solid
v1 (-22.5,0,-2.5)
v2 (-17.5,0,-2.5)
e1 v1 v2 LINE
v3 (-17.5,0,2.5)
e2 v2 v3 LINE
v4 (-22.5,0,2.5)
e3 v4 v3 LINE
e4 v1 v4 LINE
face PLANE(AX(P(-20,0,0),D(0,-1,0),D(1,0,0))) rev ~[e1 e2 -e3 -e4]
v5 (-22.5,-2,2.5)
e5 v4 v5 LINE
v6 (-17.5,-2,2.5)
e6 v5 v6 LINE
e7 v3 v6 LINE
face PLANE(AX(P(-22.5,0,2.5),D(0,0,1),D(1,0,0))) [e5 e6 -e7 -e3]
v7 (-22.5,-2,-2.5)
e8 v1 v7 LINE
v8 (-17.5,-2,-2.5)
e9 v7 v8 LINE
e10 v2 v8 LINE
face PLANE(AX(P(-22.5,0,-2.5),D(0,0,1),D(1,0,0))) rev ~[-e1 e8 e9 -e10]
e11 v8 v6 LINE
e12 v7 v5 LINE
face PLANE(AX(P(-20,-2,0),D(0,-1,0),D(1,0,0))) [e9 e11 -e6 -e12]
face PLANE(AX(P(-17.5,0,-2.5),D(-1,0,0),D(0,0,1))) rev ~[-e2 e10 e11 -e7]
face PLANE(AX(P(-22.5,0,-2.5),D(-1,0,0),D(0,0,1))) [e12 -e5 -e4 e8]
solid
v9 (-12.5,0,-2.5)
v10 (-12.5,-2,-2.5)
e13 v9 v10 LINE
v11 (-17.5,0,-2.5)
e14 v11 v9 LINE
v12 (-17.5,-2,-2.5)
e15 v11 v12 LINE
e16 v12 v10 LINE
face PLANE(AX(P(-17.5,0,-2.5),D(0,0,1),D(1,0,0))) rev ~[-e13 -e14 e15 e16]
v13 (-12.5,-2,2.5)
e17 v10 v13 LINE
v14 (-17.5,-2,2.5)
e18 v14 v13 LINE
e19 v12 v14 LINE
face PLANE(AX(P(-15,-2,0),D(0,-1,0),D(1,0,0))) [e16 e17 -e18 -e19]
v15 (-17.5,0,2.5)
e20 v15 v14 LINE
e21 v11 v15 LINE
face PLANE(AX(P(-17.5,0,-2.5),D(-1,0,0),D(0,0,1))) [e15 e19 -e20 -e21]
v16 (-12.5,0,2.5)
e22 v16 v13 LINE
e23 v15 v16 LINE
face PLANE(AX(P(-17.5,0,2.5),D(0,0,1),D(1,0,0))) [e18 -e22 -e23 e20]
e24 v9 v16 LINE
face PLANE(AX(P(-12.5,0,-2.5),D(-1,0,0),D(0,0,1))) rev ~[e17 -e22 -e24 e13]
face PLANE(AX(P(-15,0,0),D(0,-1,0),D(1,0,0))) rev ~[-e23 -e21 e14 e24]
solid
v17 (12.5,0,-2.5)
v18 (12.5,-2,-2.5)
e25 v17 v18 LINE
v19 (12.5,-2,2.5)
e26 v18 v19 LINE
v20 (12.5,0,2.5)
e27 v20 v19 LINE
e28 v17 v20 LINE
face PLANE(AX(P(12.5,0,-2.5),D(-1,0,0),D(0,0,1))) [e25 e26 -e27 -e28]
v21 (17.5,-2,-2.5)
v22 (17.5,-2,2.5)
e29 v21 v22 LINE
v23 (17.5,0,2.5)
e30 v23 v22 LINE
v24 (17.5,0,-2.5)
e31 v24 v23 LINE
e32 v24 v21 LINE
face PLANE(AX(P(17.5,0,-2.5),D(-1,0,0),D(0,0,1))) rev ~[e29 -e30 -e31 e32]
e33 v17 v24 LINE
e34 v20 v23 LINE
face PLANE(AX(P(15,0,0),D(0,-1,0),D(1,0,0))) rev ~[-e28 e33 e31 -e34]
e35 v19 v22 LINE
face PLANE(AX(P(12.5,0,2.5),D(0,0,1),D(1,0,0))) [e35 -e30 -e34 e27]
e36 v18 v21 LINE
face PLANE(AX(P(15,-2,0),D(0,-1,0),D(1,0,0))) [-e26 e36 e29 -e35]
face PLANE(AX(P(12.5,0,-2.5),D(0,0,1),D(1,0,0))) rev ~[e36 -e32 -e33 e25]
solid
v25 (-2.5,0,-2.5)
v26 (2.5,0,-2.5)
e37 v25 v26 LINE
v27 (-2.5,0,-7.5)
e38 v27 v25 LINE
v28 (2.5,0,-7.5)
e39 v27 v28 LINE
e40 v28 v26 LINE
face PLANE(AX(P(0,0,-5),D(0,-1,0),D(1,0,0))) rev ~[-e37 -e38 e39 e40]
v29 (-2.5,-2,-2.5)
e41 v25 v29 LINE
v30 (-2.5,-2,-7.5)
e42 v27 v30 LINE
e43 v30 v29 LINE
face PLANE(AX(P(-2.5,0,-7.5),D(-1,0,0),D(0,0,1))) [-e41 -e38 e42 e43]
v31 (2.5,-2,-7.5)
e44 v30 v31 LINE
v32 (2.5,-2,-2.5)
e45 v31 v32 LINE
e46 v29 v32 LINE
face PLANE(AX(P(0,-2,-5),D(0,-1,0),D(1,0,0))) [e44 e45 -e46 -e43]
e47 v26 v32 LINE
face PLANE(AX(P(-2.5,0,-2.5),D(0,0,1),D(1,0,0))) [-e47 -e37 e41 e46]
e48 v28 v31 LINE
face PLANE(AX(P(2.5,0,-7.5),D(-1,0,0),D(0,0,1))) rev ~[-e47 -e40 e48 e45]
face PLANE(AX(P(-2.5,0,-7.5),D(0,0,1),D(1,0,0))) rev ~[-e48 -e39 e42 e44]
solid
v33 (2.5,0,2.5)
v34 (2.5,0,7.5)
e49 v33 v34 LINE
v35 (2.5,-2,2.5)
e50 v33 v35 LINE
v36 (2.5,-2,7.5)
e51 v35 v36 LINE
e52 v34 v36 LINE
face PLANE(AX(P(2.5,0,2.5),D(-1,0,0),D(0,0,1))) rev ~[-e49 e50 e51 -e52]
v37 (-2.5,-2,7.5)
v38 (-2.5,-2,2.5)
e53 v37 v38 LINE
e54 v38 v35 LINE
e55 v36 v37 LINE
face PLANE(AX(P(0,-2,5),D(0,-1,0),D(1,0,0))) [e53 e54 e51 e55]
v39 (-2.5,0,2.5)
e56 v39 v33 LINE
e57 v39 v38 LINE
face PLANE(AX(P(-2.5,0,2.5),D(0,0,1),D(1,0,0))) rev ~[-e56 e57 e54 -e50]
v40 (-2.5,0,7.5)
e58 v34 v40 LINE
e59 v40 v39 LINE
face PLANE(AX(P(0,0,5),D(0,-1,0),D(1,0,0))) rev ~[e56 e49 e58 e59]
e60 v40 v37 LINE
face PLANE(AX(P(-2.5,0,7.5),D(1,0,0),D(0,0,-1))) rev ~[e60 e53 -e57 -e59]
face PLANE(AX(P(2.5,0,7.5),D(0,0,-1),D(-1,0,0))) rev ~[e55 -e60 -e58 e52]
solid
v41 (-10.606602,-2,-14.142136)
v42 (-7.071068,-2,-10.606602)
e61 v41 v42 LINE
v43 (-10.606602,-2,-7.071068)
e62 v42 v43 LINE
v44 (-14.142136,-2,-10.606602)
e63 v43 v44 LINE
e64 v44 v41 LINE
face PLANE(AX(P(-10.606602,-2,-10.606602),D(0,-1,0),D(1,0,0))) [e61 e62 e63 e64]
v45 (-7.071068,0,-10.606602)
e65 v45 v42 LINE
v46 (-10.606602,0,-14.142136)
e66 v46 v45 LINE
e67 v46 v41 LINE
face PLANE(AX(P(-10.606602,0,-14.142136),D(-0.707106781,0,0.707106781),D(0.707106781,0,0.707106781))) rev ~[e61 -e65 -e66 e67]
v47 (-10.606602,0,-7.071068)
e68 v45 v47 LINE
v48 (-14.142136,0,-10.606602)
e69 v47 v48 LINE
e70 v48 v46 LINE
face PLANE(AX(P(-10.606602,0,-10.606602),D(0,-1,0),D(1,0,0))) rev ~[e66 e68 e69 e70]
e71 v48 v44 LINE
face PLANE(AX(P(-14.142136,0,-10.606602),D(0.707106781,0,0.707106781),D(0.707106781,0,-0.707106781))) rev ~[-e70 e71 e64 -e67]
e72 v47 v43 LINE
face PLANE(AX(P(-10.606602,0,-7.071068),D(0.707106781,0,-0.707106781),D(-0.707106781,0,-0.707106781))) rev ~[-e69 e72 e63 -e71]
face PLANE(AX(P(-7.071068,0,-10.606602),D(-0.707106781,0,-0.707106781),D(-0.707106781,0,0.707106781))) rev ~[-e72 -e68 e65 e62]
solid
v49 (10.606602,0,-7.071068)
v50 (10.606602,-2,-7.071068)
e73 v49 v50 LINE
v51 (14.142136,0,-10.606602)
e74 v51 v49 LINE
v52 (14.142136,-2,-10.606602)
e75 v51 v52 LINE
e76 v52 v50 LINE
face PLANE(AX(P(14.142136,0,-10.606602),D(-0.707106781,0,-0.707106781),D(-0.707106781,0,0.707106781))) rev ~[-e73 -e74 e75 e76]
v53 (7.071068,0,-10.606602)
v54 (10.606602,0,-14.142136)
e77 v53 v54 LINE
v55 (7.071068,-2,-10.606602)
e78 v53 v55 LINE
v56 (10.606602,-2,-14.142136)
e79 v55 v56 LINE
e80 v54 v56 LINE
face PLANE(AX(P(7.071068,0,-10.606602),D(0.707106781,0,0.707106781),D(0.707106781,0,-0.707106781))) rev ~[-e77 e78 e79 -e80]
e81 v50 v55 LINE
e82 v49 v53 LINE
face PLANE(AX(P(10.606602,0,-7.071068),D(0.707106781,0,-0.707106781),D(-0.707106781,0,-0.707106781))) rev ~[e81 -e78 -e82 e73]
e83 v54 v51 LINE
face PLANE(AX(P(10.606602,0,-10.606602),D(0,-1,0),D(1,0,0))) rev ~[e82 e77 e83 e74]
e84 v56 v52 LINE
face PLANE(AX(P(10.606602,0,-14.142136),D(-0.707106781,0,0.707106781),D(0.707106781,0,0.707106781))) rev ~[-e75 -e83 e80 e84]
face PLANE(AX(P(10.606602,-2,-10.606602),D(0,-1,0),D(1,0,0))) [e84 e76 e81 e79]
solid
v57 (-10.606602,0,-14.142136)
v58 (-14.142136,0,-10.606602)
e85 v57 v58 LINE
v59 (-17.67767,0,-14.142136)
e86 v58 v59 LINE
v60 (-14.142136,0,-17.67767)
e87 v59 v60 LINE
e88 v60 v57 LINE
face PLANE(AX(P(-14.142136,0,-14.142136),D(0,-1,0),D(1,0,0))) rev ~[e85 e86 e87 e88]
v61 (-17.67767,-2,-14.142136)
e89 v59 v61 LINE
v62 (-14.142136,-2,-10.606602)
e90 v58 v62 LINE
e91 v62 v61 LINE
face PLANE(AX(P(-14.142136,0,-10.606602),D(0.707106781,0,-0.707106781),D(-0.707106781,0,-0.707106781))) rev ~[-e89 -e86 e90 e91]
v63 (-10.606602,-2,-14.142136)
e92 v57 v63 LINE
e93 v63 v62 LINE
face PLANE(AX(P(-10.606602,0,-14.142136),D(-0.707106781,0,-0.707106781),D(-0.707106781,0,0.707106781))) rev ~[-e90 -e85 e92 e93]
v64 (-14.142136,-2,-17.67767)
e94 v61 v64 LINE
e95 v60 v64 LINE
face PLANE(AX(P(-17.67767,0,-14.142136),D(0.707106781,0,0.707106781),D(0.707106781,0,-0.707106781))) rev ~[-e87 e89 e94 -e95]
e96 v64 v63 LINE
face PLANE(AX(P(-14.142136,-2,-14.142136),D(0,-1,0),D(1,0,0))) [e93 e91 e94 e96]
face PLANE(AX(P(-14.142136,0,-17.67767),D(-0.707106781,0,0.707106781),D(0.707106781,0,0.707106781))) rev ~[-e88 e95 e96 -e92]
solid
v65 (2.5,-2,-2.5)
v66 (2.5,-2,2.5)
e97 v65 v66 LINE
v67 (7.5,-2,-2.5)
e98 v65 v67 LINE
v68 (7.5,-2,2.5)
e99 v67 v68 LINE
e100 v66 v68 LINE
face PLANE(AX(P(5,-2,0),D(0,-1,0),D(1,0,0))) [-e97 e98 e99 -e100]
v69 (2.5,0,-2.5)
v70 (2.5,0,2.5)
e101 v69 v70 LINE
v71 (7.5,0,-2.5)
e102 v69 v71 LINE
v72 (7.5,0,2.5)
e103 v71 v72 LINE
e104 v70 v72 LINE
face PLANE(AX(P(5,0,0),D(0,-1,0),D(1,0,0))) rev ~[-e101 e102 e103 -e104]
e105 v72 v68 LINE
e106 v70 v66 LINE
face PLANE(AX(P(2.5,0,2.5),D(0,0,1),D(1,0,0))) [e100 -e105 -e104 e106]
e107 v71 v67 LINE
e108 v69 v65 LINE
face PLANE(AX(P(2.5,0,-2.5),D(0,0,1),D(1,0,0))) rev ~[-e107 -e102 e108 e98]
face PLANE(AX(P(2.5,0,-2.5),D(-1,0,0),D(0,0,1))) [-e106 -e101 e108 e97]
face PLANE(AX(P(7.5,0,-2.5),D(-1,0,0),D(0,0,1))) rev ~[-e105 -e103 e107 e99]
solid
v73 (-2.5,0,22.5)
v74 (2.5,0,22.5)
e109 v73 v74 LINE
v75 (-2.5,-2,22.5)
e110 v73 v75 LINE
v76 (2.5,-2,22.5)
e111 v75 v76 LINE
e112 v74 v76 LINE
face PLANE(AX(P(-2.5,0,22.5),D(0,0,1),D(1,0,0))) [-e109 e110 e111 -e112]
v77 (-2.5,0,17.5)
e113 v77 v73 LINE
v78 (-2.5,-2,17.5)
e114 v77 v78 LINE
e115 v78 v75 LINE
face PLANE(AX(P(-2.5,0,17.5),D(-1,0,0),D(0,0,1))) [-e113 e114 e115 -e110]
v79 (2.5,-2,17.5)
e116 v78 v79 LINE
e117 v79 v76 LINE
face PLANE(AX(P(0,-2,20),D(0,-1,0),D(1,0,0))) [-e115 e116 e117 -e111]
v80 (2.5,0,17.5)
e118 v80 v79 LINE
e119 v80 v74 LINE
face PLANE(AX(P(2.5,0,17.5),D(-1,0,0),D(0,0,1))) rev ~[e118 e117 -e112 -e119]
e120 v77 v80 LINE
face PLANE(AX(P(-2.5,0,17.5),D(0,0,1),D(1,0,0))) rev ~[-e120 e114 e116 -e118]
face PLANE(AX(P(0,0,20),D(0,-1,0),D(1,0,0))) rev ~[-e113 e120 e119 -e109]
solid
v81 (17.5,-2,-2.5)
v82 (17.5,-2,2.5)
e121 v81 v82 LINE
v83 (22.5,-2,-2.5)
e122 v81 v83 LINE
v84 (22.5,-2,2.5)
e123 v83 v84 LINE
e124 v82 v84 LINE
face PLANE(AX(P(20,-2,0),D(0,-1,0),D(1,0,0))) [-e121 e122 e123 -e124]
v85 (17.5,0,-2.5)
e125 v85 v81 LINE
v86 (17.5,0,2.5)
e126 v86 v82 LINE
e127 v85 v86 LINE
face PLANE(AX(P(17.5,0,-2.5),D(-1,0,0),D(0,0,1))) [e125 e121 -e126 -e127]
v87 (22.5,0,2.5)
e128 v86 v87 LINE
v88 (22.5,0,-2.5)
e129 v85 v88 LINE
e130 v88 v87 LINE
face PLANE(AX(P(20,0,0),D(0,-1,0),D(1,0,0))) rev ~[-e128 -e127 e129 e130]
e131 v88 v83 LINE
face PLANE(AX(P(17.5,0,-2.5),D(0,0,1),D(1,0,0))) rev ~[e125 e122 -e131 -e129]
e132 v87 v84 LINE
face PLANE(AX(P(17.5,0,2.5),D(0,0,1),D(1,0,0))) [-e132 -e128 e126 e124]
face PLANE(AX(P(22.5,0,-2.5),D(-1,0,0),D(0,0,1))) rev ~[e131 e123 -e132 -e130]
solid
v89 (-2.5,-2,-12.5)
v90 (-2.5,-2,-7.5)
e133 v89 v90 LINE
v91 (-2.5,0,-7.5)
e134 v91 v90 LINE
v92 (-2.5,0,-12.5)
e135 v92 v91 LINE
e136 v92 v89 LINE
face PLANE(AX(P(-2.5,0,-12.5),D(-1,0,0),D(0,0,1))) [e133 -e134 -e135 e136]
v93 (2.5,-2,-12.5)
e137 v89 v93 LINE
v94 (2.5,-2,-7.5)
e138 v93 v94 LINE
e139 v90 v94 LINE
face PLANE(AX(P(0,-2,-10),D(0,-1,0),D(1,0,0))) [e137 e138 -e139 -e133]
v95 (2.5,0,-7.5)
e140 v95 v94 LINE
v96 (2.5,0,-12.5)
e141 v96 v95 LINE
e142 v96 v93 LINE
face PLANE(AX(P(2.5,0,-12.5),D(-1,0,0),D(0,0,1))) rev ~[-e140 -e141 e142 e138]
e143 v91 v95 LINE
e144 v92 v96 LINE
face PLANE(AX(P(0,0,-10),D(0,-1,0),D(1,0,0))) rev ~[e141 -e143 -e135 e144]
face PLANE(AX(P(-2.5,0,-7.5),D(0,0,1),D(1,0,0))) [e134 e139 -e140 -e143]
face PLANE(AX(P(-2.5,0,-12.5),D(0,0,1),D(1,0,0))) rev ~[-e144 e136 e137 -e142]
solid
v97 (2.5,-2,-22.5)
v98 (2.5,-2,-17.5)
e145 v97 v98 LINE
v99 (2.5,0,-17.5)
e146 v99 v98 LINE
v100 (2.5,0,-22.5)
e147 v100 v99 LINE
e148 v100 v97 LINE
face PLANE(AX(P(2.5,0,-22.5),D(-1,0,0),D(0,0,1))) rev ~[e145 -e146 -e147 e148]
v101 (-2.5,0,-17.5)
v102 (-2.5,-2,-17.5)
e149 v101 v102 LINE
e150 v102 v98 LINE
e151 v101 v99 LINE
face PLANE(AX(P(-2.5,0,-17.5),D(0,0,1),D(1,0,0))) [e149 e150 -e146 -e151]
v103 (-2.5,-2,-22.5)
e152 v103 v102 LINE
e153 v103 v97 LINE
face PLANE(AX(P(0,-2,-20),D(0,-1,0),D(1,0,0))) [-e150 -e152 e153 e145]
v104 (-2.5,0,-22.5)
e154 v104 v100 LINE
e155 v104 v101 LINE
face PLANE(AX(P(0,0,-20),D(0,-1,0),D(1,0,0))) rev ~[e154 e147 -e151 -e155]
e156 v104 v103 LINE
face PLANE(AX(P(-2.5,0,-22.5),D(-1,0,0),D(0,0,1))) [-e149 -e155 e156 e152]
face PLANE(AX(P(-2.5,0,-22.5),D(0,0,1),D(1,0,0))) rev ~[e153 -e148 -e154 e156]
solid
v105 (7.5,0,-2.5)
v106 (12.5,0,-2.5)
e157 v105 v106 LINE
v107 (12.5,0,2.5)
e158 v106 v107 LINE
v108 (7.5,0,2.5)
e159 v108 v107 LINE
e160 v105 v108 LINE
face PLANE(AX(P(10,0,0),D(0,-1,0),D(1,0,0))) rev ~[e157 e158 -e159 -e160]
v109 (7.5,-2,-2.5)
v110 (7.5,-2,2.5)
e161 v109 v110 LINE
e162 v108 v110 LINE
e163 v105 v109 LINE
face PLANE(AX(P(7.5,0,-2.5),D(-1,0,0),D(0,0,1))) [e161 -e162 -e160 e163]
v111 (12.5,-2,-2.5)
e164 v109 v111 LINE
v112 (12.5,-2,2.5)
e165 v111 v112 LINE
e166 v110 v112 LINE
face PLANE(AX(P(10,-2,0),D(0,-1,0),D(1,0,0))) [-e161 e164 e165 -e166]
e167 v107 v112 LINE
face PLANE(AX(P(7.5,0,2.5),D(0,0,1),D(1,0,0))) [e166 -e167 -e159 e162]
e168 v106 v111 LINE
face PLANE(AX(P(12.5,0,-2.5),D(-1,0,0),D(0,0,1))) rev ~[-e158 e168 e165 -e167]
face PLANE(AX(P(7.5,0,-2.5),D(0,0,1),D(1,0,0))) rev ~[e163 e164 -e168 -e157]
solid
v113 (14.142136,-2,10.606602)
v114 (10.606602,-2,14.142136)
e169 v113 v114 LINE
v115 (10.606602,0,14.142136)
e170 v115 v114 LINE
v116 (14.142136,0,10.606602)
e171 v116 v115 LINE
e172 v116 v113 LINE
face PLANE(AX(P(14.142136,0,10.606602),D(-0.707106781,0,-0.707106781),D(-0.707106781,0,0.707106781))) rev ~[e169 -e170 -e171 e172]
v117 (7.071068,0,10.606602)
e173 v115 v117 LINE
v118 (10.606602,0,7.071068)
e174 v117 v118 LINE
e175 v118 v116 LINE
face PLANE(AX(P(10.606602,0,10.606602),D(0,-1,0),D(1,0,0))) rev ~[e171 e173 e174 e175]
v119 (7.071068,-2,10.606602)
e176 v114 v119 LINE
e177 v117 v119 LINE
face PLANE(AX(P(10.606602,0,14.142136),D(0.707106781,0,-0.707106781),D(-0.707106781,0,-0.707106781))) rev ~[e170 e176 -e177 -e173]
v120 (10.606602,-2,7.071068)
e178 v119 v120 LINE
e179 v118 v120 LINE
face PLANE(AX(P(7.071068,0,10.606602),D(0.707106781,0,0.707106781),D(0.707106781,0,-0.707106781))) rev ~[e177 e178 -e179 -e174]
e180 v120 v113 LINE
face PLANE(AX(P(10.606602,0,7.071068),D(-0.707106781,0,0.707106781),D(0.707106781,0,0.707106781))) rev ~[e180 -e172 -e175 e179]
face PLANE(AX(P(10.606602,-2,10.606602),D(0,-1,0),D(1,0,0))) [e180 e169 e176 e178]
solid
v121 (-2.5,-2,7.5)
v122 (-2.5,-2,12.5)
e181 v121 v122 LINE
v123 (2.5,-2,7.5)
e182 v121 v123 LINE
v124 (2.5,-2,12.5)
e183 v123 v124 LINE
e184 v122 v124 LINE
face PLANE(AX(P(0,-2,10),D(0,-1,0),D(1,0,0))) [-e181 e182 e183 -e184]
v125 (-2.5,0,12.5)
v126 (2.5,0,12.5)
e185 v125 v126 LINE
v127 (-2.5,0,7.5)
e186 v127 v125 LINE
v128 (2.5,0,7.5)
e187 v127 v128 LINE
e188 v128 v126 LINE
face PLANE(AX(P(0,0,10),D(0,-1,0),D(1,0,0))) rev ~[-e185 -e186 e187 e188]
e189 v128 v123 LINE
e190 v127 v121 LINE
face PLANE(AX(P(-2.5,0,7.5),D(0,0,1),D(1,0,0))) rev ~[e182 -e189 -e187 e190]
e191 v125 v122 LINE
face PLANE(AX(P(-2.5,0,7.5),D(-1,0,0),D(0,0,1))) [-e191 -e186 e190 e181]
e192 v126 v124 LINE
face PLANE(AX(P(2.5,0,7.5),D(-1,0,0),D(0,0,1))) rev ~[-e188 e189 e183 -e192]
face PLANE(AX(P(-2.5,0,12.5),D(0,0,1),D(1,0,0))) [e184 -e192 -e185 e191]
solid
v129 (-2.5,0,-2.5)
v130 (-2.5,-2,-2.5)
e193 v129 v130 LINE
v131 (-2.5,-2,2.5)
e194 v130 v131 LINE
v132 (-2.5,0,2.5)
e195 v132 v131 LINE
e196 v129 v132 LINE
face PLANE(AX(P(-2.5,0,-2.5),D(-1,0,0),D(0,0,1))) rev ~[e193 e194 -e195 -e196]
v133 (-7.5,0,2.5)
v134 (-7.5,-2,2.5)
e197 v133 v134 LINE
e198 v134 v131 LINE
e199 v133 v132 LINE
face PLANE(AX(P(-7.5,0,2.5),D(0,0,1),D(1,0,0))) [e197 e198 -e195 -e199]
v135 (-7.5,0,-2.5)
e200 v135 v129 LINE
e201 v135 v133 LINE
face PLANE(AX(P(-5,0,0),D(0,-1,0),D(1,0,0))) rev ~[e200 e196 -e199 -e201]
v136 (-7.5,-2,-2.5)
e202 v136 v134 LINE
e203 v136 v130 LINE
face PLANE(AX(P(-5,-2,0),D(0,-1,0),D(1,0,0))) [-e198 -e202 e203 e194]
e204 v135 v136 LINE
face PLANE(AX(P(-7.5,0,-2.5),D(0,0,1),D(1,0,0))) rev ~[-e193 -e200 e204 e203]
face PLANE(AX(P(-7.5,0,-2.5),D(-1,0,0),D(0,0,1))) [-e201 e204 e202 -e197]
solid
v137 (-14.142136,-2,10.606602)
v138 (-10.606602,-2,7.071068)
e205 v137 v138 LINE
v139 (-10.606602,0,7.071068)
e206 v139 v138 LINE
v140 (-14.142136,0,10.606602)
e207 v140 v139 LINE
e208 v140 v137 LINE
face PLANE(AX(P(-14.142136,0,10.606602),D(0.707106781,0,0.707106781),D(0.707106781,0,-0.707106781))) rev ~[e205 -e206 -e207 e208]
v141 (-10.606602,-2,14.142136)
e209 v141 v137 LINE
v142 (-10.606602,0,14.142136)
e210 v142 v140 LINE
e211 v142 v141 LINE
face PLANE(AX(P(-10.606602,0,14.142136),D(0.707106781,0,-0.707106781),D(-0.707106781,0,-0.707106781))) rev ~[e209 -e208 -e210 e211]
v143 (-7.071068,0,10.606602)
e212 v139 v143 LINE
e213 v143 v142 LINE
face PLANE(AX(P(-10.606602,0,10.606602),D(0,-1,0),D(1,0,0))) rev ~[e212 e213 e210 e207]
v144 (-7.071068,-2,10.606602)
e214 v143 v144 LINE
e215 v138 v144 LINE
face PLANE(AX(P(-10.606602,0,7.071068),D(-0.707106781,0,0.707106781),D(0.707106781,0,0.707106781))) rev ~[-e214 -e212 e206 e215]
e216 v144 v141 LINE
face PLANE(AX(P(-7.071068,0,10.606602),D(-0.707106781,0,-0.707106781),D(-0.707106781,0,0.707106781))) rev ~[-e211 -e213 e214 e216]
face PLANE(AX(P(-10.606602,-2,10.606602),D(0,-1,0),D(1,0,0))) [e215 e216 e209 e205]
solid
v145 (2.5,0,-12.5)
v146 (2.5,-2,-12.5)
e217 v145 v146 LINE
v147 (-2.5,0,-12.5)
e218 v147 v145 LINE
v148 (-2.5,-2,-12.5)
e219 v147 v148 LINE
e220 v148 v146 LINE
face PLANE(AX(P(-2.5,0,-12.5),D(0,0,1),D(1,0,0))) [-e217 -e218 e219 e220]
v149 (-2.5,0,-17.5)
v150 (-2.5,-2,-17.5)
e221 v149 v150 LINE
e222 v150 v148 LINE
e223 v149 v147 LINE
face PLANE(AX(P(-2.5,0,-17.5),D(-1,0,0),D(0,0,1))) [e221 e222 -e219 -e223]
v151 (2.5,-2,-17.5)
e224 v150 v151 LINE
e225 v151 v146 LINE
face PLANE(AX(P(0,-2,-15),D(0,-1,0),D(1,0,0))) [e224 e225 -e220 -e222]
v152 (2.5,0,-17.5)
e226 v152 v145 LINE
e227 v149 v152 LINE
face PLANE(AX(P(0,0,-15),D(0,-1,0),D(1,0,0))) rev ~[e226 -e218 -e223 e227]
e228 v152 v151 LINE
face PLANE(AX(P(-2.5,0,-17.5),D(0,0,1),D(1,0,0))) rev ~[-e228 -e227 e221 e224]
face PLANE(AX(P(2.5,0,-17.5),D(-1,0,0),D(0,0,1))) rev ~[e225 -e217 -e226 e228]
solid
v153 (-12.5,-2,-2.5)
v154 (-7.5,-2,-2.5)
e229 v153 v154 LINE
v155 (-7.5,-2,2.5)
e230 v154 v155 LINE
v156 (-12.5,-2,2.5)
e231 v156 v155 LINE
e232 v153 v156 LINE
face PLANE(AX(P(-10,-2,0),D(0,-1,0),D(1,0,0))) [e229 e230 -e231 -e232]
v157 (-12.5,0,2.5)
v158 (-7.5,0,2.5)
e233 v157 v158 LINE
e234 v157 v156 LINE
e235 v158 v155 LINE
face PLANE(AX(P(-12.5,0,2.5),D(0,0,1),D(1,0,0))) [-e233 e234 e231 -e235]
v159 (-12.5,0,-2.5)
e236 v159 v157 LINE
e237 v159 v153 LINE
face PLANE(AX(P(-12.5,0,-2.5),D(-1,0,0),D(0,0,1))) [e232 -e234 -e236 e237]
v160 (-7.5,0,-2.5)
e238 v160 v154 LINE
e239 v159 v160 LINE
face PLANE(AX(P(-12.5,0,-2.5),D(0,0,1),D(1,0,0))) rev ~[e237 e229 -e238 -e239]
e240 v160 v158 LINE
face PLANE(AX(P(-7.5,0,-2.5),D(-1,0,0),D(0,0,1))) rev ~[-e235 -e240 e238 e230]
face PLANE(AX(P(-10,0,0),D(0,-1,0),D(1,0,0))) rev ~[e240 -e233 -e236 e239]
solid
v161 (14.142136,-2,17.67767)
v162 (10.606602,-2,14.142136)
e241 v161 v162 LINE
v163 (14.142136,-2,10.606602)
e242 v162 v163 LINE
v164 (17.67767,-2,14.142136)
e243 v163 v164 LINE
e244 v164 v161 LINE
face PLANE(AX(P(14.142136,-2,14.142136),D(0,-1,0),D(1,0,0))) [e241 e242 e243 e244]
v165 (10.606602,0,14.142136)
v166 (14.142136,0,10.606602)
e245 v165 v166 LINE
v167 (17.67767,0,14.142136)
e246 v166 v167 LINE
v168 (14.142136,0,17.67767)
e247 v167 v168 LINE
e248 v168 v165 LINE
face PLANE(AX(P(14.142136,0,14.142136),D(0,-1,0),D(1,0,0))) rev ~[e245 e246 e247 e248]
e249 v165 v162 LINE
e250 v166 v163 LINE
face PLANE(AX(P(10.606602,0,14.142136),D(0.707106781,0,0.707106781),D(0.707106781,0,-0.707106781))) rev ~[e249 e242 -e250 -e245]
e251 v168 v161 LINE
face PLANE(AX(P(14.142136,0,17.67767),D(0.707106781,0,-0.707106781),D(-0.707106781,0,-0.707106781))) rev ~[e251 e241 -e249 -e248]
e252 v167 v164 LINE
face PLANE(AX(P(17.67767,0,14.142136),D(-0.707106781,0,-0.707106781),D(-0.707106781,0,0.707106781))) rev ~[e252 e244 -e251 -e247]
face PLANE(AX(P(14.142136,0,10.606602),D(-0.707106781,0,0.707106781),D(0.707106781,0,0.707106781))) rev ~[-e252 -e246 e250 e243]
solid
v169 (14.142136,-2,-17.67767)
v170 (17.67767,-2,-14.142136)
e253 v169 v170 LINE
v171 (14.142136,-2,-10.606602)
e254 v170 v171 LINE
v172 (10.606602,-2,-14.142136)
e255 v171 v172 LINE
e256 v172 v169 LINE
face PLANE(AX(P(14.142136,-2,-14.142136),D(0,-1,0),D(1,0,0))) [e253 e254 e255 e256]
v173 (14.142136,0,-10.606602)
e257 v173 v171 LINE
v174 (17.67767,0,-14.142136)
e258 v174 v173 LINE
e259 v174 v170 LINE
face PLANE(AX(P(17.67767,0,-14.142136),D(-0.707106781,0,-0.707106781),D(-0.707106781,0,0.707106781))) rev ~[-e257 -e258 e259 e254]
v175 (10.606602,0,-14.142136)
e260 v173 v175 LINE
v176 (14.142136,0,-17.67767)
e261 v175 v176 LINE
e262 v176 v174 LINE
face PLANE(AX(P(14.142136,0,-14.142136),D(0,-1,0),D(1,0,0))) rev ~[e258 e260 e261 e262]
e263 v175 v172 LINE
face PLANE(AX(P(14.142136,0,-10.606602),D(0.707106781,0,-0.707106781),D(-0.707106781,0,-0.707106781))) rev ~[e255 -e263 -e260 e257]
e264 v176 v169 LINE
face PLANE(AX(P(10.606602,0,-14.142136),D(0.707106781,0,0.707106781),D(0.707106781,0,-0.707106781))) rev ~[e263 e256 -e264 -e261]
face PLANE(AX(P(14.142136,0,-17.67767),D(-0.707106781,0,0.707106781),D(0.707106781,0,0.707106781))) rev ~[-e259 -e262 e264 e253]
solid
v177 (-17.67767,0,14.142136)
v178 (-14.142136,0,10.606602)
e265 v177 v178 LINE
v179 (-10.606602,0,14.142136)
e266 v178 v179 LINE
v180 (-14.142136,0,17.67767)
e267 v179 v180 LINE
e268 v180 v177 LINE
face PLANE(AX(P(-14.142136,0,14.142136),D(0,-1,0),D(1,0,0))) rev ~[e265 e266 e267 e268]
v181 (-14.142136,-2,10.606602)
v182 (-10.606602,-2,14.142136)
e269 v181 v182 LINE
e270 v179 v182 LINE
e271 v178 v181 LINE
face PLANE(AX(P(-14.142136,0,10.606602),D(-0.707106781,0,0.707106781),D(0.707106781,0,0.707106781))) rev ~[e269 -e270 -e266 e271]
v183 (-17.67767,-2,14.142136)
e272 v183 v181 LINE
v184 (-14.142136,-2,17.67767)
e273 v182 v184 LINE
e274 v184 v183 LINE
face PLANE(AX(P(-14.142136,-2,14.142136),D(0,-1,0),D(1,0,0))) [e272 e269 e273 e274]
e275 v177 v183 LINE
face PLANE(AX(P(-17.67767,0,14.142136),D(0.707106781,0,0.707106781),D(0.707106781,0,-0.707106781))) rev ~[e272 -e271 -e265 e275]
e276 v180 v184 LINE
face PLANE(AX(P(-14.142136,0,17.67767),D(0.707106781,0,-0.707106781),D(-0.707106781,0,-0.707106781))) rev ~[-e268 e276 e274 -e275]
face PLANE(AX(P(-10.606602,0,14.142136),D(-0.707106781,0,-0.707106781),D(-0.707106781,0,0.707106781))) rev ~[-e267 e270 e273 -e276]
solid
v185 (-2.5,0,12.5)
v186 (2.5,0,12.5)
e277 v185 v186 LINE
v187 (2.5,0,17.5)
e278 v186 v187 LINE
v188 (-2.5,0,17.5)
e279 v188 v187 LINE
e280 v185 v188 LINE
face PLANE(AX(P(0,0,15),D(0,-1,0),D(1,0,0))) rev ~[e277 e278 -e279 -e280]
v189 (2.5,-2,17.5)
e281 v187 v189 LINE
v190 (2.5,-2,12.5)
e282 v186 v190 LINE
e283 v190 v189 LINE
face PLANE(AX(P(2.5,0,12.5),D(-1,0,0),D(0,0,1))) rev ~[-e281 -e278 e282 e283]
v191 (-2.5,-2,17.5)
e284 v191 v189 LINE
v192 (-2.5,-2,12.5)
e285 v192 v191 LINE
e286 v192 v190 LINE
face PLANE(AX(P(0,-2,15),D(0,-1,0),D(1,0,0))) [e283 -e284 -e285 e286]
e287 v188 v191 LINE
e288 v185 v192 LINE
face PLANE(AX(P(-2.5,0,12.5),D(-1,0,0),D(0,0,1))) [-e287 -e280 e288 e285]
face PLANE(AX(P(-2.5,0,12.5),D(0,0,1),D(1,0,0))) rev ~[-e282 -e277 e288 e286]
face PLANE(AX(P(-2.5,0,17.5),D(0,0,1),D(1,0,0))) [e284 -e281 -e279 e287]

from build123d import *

# Parameters (mm, degrees)
F0_W     = 5
F0_H     = 5
F1_DEPTH = 2
F2_DEPTH = 2
F3_DEPTH = 2
F4_DEPTH = 2


with BuildPart() as f1:
    # F0 (on Front) → F1 (new body)
    with BuildSketch(Plane.XZ):
        Polygon((-2.5, 2.5), (0, 2.5), (2.5, 2.5), (2.5, 7.5), (-2.5, 7.5), align=None)
        with Locations((5, 0)):
            Rectangle(F0_W, F0_H)
        with Locations((0, -5)):
            Rectangle(F0_W, F0_H)
        with Locations((-5, 0)):
            Rectangle(F0_W, F0_H)
    extrude(amount=F1_DEPTH)


with BuildPart() as f2:
    # F0 (on Front) → F2 (new body)
    with BuildSketch(Plane.XZ):
        with Locations((0, 10)):
            Rectangle(F0_W, F0_H)
        with Locations((10, 0)):
            Rectangle(F0_W, F0_H)
        with Locations((0, -10)):
            Rectangle(F0_W, F0_H)
        with Locations((-10, 0)):
            Rectangle(F0_W, F0_H)
    extrude(amount=F2_DEPTH)


with BuildPart() as f3:
    # F0 (on Front) → F3 (new body)
    with BuildSketch(Plane.XZ):
        with Locations((0, 15)):
            Rectangle(F0_W, F0_H)
        Polygon((7.071068, 10.606602), (8.838835, 8.838835), (10.606602, 7.071068), (14.142136, 10.606602), (10.606602, 14.142136), align=None)
        with Locations((15, 0)):
            Rectangle(F0_W, F0_H)
        Polygon((10.606602, -7.071068), (8.838835, -8.838835), (7.071068, -10.606602), (10.606602, -14.142136), (14.142136, -10.606602), align=None)
        with Locations((0, -15)):
            Rectangle(F0_W, F0_H)
        Polygon((-7.071068, -10.606602), (-8.838835, -8.838835), (-10.606602, -7.071068), (-14.142136, -10.606602), (-10.606602, -14.142136), align=None)
        with Locations((-15, 0)):
            Rectangle(F0_W, F0_H)
        Polygon((-10.606602, 7.071068), (-7.071068, 10.606602), (-10.606602, 14.142136), (-14.142136, 10.606602), align=None)
    extrude(amount=F3_DEPTH)


with BuildPart() as f4:
    # F0 (on Front) → F4 (new body)
    with BuildSketch(Plane.XZ):
        with Locations((0, 20)):
            Rectangle(F0_W, F0_H)
        Polygon((10.606602, 14.142136), (14.142136, 10.606602), (17.67767, 14.142136), (14.142136, 17.67767), align=None)
        with Locations((20, 0)):
            Rectangle(F0_W, F0_H)
        Polygon((14.142136, -10.606602), (10.606602, -14.142136), (14.142136, -17.67767), (17.67767, -14.142136), align=None)
        with Locations((0, -20)):
            Rectangle(F0_W, F0_H)
        Polygon((-10.606602, -14.142136), (-14.142136, -10.606602), (-17.67767, -14.142136), (-14.142136, -17.67767), align=None)
        with Locations((-20, 0)):
            Rectangle(F0_W, F0_H)
        Polygon((-14.142136, 10.606602), (-10.606602, 14.142136), (-14.142136, 17.67767), (-17.67767, 14.142136), align=None)
    extrude(amount=F4_DEPTH)


solid = Compound([f1.part, f2.part, f3.part, f4.part])
